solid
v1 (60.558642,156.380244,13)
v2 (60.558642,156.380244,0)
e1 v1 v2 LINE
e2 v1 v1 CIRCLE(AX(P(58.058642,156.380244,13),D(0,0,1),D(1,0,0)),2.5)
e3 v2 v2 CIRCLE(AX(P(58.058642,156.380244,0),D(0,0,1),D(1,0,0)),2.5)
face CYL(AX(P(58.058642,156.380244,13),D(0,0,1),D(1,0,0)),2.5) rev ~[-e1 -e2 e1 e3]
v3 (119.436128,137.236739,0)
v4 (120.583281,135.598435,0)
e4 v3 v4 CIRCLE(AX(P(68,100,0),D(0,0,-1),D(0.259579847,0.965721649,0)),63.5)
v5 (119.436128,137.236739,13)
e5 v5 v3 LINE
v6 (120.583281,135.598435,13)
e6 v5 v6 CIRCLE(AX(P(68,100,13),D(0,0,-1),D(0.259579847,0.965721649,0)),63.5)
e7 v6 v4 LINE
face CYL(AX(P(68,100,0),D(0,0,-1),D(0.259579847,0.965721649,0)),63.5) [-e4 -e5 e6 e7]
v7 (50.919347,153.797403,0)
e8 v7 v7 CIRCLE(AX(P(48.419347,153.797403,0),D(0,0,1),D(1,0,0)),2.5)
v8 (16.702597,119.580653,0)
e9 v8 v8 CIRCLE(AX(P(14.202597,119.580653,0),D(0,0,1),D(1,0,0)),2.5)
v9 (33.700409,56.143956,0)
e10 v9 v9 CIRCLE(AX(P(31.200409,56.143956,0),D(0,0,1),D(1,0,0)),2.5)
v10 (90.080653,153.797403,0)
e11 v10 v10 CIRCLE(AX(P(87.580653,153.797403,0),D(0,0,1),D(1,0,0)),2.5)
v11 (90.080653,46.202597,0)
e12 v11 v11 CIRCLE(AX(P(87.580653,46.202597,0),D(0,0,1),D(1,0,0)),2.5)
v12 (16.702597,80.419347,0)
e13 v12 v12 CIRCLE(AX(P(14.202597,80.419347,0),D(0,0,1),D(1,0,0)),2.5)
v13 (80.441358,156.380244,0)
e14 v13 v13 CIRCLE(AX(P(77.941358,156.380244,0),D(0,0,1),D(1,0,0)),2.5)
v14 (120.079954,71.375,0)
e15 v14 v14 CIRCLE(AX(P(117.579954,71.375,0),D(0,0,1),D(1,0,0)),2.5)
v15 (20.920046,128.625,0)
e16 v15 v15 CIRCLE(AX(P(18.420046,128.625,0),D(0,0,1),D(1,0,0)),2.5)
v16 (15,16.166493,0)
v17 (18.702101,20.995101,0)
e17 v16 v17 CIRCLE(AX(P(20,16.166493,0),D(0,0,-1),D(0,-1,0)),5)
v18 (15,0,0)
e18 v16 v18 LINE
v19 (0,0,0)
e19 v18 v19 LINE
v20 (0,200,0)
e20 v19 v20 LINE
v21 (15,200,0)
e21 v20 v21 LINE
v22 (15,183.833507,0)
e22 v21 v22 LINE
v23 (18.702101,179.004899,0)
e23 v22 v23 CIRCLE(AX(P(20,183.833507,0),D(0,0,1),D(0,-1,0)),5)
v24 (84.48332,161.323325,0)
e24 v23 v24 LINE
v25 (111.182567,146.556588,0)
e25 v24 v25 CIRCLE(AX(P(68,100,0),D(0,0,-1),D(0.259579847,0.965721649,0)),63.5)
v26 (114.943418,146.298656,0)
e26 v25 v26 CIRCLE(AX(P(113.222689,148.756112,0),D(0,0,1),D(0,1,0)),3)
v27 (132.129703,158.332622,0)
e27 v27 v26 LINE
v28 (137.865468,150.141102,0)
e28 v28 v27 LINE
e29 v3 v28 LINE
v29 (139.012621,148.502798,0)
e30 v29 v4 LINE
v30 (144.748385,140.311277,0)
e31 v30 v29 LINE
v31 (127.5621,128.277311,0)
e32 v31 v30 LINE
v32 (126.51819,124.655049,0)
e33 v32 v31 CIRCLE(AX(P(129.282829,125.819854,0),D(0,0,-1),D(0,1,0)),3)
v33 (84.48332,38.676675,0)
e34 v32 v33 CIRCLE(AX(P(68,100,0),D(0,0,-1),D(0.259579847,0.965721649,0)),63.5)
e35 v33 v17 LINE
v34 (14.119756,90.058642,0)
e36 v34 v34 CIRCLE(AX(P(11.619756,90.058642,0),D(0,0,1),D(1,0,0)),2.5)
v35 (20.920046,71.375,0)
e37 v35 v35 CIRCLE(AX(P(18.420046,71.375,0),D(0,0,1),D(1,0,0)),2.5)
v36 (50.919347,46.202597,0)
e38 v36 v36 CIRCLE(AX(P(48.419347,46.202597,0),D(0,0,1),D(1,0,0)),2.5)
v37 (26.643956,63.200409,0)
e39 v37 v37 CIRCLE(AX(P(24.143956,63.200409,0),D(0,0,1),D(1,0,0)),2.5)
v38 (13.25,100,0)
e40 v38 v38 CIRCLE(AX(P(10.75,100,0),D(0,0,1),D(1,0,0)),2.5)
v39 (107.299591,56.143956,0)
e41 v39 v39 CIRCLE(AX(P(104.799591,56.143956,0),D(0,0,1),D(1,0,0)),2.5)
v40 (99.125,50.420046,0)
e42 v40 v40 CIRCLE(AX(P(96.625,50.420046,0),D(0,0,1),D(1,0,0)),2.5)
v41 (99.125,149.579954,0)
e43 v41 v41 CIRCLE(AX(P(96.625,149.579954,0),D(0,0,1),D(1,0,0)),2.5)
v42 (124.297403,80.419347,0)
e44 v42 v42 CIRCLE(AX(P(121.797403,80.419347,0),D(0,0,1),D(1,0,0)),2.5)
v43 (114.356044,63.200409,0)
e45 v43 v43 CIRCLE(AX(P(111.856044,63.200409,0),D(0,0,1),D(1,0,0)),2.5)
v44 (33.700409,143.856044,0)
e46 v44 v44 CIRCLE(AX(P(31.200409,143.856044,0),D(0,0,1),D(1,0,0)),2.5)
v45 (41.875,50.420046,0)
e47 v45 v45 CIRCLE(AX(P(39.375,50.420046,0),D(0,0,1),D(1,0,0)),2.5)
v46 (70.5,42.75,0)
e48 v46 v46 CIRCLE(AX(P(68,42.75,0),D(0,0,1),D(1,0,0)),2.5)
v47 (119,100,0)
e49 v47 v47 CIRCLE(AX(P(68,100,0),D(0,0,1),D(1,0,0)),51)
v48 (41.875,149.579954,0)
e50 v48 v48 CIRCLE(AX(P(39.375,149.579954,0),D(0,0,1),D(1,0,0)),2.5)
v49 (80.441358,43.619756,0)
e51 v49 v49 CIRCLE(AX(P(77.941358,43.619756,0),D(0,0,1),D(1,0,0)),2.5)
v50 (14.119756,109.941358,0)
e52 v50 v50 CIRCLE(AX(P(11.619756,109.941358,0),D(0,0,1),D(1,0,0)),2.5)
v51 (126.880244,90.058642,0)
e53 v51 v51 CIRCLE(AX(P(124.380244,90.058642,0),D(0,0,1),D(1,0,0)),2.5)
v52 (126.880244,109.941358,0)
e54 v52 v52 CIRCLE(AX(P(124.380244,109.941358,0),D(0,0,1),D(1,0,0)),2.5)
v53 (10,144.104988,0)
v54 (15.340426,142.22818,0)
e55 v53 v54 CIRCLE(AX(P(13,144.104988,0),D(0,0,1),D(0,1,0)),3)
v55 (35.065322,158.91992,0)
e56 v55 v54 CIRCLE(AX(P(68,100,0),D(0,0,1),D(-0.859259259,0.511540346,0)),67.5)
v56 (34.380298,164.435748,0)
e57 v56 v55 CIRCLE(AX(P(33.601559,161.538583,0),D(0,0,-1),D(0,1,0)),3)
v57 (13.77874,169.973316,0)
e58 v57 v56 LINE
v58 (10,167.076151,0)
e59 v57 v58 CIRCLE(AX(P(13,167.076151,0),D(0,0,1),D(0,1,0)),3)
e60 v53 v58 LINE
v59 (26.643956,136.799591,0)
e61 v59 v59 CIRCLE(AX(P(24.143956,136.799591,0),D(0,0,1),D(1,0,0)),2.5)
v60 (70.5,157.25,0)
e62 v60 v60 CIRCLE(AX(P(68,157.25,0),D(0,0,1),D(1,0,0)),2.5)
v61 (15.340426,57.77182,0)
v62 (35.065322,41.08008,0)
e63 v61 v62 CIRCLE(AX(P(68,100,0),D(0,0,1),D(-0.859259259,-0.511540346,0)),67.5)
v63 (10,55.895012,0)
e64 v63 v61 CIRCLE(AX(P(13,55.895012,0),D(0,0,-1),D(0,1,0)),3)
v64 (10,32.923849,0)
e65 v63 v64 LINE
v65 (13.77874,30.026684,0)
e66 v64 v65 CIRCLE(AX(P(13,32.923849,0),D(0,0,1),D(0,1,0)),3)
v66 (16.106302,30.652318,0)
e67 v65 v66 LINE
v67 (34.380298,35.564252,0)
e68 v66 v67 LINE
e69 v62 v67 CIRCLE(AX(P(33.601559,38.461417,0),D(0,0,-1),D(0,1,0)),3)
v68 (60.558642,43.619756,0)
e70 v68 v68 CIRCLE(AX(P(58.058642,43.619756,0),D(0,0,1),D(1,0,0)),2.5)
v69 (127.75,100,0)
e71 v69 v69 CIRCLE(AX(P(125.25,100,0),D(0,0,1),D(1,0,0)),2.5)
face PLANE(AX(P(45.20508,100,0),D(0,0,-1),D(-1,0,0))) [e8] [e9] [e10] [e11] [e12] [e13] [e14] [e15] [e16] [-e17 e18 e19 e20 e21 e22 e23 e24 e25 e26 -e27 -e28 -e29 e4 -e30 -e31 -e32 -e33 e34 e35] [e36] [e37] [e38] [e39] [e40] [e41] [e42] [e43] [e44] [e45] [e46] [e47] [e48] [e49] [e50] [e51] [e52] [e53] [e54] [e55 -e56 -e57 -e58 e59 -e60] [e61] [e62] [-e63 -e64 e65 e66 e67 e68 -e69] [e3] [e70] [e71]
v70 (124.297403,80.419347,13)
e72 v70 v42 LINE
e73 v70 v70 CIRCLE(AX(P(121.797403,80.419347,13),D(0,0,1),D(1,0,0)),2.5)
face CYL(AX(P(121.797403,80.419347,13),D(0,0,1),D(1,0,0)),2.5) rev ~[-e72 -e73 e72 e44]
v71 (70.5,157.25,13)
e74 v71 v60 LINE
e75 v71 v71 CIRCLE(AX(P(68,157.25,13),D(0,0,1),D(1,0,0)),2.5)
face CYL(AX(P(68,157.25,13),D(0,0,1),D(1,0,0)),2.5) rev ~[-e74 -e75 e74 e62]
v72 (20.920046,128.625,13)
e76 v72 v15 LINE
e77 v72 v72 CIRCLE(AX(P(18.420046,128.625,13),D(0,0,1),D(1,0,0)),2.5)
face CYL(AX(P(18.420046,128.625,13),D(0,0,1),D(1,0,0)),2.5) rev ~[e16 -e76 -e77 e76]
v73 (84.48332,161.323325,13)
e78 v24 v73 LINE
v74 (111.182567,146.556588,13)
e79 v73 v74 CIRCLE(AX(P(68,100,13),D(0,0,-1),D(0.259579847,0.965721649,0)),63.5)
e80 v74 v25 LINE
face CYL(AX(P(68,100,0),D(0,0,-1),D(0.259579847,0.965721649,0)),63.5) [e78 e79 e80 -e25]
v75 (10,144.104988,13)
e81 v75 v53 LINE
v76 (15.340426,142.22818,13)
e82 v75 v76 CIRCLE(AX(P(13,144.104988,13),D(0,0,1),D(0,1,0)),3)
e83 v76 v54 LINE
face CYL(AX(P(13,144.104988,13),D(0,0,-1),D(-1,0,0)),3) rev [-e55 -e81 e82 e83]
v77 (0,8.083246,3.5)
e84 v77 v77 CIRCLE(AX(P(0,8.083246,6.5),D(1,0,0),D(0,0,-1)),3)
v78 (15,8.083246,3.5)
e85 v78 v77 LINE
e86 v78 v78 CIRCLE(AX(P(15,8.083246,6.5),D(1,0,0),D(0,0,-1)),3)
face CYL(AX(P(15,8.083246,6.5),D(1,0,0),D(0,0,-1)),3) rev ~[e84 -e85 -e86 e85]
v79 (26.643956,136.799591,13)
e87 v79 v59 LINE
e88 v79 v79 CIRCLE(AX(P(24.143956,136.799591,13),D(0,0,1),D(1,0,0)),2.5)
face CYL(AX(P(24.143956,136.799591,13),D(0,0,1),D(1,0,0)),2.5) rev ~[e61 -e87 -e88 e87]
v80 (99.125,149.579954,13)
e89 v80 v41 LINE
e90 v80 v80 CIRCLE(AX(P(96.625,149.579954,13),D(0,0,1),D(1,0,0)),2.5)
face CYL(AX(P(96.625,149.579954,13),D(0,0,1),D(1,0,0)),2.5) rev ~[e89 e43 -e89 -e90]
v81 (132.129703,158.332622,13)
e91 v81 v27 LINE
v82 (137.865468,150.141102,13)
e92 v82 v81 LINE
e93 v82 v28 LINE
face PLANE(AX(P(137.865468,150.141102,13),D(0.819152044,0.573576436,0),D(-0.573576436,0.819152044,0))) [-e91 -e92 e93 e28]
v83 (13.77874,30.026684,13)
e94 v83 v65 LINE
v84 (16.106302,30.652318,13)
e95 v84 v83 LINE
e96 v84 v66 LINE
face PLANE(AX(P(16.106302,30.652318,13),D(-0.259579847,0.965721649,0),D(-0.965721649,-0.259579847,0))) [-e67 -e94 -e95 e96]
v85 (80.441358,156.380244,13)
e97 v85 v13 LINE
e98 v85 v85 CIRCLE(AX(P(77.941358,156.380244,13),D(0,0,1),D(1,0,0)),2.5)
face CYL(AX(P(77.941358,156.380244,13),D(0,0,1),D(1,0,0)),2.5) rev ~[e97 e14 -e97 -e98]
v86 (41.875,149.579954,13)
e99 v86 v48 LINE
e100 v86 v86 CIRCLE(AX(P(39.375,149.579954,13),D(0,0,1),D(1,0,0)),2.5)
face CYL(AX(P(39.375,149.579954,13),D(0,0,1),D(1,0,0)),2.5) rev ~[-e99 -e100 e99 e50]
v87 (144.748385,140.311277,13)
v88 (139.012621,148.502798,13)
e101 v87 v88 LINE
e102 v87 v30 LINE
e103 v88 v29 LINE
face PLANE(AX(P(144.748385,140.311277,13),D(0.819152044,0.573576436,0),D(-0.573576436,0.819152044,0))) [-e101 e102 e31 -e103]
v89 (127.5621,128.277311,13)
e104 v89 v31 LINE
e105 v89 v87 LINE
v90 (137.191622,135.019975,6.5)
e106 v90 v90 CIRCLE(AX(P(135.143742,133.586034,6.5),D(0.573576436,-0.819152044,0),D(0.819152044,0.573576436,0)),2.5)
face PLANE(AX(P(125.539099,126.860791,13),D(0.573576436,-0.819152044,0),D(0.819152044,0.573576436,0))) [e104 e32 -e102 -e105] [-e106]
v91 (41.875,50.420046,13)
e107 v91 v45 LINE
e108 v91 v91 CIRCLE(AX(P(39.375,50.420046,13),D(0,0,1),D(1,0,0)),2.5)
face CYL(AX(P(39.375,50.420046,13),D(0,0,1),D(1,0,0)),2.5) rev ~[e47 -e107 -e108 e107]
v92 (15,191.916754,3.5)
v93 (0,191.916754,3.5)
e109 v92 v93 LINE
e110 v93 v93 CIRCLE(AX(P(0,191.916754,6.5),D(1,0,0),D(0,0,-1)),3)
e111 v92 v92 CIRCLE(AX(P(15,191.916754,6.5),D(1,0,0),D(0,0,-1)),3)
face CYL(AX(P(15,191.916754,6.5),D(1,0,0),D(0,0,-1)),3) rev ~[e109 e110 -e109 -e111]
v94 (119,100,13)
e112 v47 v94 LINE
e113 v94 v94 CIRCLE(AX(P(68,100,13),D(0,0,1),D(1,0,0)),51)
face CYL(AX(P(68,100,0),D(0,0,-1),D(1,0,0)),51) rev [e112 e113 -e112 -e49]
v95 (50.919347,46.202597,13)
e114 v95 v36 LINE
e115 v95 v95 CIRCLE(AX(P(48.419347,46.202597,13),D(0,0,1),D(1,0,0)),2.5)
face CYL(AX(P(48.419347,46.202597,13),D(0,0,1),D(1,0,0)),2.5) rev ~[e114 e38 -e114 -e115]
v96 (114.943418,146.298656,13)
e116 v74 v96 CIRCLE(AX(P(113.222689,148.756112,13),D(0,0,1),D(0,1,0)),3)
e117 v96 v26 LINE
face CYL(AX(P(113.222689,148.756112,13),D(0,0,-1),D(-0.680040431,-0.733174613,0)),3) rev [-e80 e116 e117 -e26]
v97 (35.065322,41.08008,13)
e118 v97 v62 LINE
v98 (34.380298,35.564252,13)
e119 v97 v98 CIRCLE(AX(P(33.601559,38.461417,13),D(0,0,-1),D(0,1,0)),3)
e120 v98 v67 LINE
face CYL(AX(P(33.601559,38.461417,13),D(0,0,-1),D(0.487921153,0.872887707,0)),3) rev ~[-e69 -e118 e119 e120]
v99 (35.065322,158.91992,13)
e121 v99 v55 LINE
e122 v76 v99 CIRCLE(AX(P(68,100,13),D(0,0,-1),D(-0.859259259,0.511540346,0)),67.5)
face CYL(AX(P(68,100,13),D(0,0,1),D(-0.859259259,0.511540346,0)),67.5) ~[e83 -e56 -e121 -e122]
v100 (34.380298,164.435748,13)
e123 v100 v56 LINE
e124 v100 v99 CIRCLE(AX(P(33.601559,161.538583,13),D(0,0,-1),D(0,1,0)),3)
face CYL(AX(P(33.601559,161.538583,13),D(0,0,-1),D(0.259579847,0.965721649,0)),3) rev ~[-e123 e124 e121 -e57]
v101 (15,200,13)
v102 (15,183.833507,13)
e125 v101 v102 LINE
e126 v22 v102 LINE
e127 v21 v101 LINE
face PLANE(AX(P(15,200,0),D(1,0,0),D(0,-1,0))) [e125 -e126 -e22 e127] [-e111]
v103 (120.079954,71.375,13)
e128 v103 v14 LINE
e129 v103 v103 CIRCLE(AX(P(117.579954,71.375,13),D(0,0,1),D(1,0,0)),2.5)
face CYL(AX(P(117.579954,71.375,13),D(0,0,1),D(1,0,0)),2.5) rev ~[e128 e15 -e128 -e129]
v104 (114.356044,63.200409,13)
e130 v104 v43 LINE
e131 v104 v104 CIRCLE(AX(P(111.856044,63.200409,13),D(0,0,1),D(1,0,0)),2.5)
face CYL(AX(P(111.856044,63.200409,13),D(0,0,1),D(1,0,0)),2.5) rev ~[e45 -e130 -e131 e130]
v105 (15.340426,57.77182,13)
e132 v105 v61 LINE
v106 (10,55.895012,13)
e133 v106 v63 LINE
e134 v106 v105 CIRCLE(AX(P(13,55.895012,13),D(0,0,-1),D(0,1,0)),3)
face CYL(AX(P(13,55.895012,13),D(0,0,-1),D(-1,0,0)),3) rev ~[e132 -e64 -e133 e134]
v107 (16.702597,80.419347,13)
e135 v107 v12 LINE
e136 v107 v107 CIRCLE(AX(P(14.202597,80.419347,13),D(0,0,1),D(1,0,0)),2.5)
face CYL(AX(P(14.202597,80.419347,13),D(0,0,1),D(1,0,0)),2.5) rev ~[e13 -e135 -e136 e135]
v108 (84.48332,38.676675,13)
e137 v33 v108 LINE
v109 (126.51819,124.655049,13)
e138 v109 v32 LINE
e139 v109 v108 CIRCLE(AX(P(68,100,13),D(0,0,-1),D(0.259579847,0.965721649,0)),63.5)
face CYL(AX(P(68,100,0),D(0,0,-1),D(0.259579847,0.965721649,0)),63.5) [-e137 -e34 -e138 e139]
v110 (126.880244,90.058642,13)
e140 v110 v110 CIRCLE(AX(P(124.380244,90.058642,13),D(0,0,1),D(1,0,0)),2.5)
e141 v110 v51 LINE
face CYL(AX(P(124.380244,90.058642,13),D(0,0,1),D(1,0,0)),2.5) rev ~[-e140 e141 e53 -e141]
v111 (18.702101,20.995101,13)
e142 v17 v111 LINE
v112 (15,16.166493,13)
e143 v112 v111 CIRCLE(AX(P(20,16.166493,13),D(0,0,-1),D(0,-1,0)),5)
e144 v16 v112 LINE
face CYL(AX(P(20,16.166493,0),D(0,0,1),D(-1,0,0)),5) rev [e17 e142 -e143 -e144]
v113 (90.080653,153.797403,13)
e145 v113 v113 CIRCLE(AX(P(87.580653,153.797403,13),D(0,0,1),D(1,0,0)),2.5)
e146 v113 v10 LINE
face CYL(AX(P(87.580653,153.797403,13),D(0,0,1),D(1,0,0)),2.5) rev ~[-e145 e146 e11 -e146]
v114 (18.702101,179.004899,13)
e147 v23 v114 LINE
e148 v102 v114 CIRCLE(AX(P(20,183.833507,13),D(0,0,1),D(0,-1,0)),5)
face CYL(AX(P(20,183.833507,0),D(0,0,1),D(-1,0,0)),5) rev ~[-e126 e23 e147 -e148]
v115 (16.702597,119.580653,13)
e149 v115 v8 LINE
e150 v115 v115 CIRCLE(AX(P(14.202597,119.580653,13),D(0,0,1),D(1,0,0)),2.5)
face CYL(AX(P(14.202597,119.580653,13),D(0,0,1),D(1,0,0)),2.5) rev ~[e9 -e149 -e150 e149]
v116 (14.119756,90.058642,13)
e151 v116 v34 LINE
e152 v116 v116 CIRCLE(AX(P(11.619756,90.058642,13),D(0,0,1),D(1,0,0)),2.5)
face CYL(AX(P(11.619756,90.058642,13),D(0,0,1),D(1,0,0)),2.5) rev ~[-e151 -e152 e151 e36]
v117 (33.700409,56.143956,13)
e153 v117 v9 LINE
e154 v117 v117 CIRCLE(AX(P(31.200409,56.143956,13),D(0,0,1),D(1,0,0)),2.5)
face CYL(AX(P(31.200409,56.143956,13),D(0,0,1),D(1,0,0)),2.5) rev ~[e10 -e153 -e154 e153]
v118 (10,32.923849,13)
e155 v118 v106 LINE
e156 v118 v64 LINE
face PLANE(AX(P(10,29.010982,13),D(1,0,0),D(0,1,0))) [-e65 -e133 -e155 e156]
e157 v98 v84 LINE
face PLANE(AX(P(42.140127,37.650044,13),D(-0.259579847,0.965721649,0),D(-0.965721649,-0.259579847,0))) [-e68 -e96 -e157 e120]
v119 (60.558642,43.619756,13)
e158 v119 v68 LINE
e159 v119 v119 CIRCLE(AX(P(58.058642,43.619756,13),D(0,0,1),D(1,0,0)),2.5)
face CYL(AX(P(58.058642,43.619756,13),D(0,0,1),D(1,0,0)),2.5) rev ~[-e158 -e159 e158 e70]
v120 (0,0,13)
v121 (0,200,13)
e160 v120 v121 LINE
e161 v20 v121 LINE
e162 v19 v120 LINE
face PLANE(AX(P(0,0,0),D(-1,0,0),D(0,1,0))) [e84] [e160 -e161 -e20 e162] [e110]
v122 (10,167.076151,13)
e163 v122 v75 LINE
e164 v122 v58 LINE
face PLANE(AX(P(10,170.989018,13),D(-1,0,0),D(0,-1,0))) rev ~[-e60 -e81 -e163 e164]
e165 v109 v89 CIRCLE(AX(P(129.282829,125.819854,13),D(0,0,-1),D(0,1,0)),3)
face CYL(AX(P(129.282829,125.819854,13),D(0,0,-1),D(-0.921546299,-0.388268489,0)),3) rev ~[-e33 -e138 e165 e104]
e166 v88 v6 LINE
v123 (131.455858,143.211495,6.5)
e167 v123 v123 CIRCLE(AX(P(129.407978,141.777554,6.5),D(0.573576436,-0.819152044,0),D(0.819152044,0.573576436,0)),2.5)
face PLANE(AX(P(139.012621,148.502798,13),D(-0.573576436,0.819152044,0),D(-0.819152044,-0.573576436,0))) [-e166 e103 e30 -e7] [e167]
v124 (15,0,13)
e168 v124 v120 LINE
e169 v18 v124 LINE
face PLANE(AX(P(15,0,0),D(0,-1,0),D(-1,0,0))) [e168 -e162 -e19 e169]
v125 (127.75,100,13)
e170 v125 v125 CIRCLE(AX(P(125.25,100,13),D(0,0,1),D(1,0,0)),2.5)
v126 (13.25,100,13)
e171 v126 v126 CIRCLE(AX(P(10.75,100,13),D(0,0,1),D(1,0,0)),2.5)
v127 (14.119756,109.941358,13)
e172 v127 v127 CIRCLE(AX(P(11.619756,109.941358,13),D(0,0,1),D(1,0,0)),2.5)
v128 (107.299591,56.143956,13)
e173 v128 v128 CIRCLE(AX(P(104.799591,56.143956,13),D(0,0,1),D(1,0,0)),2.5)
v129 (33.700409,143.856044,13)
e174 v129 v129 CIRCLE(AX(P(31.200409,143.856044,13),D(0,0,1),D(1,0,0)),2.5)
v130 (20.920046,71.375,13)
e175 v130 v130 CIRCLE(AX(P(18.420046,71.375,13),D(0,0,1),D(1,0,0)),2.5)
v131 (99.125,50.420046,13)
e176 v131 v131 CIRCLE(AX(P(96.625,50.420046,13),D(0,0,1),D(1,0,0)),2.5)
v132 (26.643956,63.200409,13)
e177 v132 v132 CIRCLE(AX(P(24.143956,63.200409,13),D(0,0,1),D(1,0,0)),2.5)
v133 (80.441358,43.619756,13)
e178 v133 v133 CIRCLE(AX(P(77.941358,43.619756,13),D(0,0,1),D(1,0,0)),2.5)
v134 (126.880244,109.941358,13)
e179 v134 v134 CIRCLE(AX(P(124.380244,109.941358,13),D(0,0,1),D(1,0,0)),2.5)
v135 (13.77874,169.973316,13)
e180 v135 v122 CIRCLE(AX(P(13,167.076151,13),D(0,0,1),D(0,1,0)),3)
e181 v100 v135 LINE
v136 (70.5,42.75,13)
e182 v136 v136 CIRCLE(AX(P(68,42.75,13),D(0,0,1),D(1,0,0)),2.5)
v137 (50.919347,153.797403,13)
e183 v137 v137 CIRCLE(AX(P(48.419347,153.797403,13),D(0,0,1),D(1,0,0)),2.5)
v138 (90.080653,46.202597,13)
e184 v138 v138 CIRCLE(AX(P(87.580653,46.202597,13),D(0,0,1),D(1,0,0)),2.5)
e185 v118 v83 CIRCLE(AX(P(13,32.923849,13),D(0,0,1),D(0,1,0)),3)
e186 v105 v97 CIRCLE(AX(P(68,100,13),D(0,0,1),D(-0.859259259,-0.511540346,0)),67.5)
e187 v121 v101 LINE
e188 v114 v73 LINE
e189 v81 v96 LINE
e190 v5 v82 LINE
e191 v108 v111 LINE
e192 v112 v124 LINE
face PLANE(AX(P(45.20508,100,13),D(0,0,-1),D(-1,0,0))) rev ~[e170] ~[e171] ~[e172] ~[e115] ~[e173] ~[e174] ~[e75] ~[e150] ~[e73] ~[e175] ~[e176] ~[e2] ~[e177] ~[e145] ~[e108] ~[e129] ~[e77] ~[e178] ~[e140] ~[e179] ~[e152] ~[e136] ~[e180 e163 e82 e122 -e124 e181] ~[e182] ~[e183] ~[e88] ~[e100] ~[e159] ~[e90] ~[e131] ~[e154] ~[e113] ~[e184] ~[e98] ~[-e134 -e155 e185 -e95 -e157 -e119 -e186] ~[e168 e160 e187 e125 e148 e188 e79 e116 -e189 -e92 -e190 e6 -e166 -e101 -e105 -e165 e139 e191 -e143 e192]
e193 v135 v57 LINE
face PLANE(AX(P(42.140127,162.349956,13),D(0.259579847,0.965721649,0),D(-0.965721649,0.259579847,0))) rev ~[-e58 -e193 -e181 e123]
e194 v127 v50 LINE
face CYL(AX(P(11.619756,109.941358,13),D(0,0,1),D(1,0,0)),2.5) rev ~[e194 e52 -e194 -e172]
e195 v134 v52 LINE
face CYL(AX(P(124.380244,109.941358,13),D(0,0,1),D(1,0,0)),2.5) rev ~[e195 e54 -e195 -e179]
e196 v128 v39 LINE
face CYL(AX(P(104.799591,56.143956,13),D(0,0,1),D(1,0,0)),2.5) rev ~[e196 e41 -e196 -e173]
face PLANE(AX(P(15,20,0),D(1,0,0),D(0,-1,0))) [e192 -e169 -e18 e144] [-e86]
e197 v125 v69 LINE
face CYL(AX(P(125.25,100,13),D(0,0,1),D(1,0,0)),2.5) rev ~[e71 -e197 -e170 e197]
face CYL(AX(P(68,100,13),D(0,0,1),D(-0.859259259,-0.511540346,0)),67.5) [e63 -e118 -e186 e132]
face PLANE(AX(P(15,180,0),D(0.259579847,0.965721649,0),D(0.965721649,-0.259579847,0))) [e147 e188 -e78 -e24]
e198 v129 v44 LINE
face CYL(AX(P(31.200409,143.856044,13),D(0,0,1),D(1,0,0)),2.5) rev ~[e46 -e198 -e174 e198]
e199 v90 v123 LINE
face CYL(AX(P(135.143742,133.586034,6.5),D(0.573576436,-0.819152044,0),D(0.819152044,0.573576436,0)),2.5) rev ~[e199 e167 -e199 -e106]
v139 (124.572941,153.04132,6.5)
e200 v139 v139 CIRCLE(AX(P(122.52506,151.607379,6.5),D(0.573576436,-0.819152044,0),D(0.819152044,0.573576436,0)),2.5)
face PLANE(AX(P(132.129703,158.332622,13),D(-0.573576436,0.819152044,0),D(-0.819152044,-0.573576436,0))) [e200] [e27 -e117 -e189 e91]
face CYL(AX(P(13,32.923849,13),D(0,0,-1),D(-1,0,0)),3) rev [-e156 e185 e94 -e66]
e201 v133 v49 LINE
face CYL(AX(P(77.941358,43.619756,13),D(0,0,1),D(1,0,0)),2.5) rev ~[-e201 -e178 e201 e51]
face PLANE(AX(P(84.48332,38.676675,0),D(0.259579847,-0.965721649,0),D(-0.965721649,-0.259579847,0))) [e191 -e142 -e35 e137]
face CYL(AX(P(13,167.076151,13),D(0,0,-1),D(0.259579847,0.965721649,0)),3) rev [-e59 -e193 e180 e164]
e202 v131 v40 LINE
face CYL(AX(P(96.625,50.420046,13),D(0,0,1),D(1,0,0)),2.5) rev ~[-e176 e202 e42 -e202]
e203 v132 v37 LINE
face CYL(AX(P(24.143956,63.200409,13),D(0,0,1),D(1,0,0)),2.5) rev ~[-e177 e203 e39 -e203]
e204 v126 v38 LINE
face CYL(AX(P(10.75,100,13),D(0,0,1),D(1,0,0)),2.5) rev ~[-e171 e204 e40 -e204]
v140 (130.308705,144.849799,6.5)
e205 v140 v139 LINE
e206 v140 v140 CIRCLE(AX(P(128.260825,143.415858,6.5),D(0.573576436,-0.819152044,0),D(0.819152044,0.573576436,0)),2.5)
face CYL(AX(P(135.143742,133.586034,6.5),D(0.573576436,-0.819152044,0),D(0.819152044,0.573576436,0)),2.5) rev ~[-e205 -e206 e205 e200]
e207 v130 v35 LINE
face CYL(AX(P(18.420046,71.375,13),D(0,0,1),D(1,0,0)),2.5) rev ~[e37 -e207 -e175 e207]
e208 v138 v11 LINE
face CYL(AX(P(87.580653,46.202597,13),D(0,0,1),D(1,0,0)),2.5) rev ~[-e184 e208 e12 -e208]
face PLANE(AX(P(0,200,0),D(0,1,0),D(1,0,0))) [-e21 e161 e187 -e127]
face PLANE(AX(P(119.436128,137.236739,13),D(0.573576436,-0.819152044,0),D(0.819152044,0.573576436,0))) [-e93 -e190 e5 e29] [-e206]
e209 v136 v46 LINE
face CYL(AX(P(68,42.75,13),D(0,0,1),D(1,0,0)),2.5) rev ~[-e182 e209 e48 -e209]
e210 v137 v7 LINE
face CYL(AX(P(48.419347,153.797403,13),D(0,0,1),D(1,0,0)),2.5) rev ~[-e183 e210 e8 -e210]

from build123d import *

# Parameters (mm, degrees)
SKETCH1_R           = 51
BOSS_EXTRUDE1_DEPTH = 13
FILLET1_R           = 5
BOSS_EXTRUDE2_DEPTH = 13
SKETCH3_R           = 2.5
CUT_EXTRUDE1_DEPTH  = 13
SKETCH4_R           = 3
CUT_EXTRUDE2_DEPTH  = 16
SKETCH5_R           = 2.5
CUT_EXTRUDE3_DEPTH  = 132.918402101
FILLET2_R           = 3
CUT_EXTRUDE4_DEPTH  = 14
CUT_EXTRUDE5_DEPTH  = 14
FILLET3_R           = 3


with BuildPart() as part:
    # Sketch1 → Boss-Extrude1 (new body)
    with BuildSketch(Plane.XY):
        with BuildLine():
            Line((0, 0), (0, 200))
            Line((0, 200), (15, 200))
            Line((15, 200), (15, 180))
            Line((15, 180), (84.483320298, 161.323324697))
            ThreePointArc((84.483320298, 161.323324697), (131.5, 100), (84.483320298, 38.676675303))
            Line((84.483320298, 38.676675303), (15, 20))
            Line((15, 20), (15, 0))
            Line((15, 0), (0, 0))
        make_face()
        with Locations((68, 100)):
            Circle(SKETCH1_R, mode=Mode.SUBTRACT)
    extrude(amount=BOSS_EXTRUDE1_DEPTH)

    # Fillet1
    fillet1_edges = [part.edges().sort_by_distance(p)[0] for p in [
        (15, 180, 6.5),
        (15, 20, 6.5),
    ]]
    fillet(fillet1_edges, radius=FILLET1_R)

    # Sketch2 → Boss-Extrude2 (add)
    with BuildSketch(Plane.XY.offset(13)):
        with BuildLine():
            ThreePointArc((112.920417572, 144.882135479), (116.329690544, 141.188481545), (119.43612796, 137.236739123))
            Line((119.43612796, 137.236739123), (137.865467698, 150.141101731))
            Line((137.865467698, 150.141101731), (132.129703335, 158.332622174))
            Line((132.129703335, 158.332622174), (112.920417572, 144.882135479))
        make_face()
        with BuildLine():
            Line((139.012620571, 148.502797643), (120.583280833, 135.598435034))
            ThreePointArc((120.583280833, 135.598435034), (123.234239855, 131.327763208), (125.539099171, 126.860790505))
            Line((125.539099171, 126.860790505), (144.748384934, 140.3112772))
            Line((144.748384934, 140.3112772), (139.012620571, 148.502797643))
        make_face()
    extrude(amount=-BOSS_EXTRUDE2_DEPTH)

    # Sketch3 → Cut-Extrude1 (cut)
    with BuildSketch(Plane.XY.offset(13)):
        with Locations((96.625, 149.579954367)):
            Circle(SKETCH3_R)
        with Locations((124.38024386, 109.941358171)):
            Circle(SKETCH3_R)
        with Locations((87.580653205, 153.79740254)):
            Circle(SKETCH3_R)
        with Locations((77.941358171, 156.38024386)):
            Circle(SKETCH3_R)
        with Locations((68, 157.25)):
            Circle(SKETCH3_R)
        with Locations((58.058641829, 156.38024386)):
            Circle(SKETCH3_R)
        with Locations((48.419346795, 153.79740254)):
            Circle(SKETCH3_R)
        with Locations((39.375, 149.579954367)):
            Circle(SKETCH3_R)
        with Locations((31.200409345, 143.856044369)):
            Circle(SKETCH3_R)
        with Locations((24.143955631, 136.799590655)):
            Circle(SKETCH3_R)
        with Locations((18.420045633, 128.625)):
            Circle(SKETCH3_R)
        with Locations((14.20259746, 119.580653205)):
            Circle(SKETCH3_R)
        with Locations((11.61975614, 109.941358171)):
            Circle(SKETCH3_R)
        with Locations((10.75, 100)):
            Circle(SKETCH3_R)
        with Locations((11.61975614, 90.058641829)):
            Circle(SKETCH3_R)
        with Locations((14.20259746, 80.419346795)):
            Circle(SKETCH3_R)
        with Locations((18.420045633, 71.375)):
            Circle(SKETCH3_R)
        with Locations((24.143955631, 63.200409345)):
            Circle(SKETCH3_R)
        with Locations((31.200409345, 56.143955631)):
            Circle(SKETCH3_R)
        with Locations((39.375, 50.420045633)):
            Circle(SKETCH3_R)
        with Locations((48.419346795, 46.20259746)):
            Circle(SKETCH3_R)
        with Locations((58.058641829, 43.61975614)):
            Circle(SKETCH3_R)
        with Locations((68, 42.75)):
            Circle(SKETCH3_R)
        with Locations((77.941358171, 43.61975614)):
            Circle(SKETCH3_R)
        with Locations((87.580653205, 46.20259746)):
            Circle(SKETCH3_R)
        with Locations((96.625, 50.420045633)):
            Circle(SKETCH3_R)
        with Locations((104.799590655, 56.143955631)):
            Circle(SKETCH3_R)
        with Locations((111.856044369, 63.200409345)):
            Circle(SKETCH3_R)
        with Locations((117.579954367, 71.375)):
            Circle(SKETCH3_R)
        with Locations((121.79740254, 80.419346795)):
            Circle(SKETCH3_R)
        with Locations((124.38024386, 90.058641829)):
            Circle(SKETCH3_R)
        with Locations((125.25, 100)):
            Circle(SKETCH3_R)
    extrude(amount=-CUT_EXTRUDE1_DEPTH, mode=Mode.SUBTRACT)

    # Sketch4 → Cut-Extrude2 (cut, through all)
    with BuildSketch(Plane(origin=(15, 0, 0), x_dir=(0, 0, -1), z_dir=(1, 0, 0))):
        with Locations((-6.5, 191.916753533)):
            Circle(SKETCH4_R)
        with Locations((-6.5, 8.083246467)):
            Circle(SKETCH4_R)
    extrude(amount=-CUT_EXTRUDE2_DEPTH, mode=Mode.SUBTRACT)

    # Sketch5 → Cut-Extrude3 (cut, through all)
    with BuildSketch(Plane(origin=(-18.303975113, 26.140785572, 0), x_dir=(0.819152044, 0.573576436, 0), z_dir=(0.573576436, -0.819152044, 0))):
        with Locations((187.325073819, 6.5)):
            Circle(SKETCH5_R)
    extrude(amount=-CUT_EXTRUDE3_DEPTH, mode=Mode.SUBTRACT)

    # Fillet2
    fillet2_edges = [part.edges().sort_by_distance(p)[0] for p in [
        (112.920417572, 144.882135479, 6.5),
        (125.539099171, 126.860790505, 6.5),
    ]]
    fillet(fillet2_edges, radius=FILLET2_R)

    # Sketch6 → Cut-Extrude4 (cut, through all)
    with BuildSketch(Plane.XY.offset(13)):
        with BuildLine():
            Line((42.140126878, 162.34995559), (10, 170.989017617))
            Line((10, 170.989017617), (10, 134.528973341))
            ThreePointArc((10, 134.528973341), (23.822841385, 151.035562666), (42.140126878, 162.34995559))
        make_face()
    extrude(amount=-CUT_EXTRUDE4_DEPTH, mode=Mode.SUBTRACT)

    # Sketch7 → Cut-Extrude5 (cut, through all)
    with BuildSketch(Plane.XY.offset(13)):
        with BuildLine():
            Line((16.106302292, 30.652317666), (10, 29.010982383))
            Line((10, 29.010982383), (10, 65.471026659))
            ThreePointArc((10, 65.471026659), (23.822841385, 48.964437334), (42.140126878, 37.65004441))
            Line((42.140126878, 37.65004441), (16.106302292, 30.652317666))
        make_face()
    extrude(amount=-CUT_EXTRUDE5_DEPTH, mode=Mode.SUBTRACT)

    # Fillet3
    fillet3_edges = [part.edges().sort_by_distance(p)[0] for p in [
        (10, 134.528973341, 6.5),
        (10, 170.989017617, 6.5),
        (42.140126878, 162.34995559, 6.5),
        (10, 65.471026659, 6.5),
        (42.140126878, 37.65004441, 6.5),
        (10, 29.010982383, 6.5),
    ]]
    fillet(fillet3_edges, radius=FILLET3_R)


solid = part.part
